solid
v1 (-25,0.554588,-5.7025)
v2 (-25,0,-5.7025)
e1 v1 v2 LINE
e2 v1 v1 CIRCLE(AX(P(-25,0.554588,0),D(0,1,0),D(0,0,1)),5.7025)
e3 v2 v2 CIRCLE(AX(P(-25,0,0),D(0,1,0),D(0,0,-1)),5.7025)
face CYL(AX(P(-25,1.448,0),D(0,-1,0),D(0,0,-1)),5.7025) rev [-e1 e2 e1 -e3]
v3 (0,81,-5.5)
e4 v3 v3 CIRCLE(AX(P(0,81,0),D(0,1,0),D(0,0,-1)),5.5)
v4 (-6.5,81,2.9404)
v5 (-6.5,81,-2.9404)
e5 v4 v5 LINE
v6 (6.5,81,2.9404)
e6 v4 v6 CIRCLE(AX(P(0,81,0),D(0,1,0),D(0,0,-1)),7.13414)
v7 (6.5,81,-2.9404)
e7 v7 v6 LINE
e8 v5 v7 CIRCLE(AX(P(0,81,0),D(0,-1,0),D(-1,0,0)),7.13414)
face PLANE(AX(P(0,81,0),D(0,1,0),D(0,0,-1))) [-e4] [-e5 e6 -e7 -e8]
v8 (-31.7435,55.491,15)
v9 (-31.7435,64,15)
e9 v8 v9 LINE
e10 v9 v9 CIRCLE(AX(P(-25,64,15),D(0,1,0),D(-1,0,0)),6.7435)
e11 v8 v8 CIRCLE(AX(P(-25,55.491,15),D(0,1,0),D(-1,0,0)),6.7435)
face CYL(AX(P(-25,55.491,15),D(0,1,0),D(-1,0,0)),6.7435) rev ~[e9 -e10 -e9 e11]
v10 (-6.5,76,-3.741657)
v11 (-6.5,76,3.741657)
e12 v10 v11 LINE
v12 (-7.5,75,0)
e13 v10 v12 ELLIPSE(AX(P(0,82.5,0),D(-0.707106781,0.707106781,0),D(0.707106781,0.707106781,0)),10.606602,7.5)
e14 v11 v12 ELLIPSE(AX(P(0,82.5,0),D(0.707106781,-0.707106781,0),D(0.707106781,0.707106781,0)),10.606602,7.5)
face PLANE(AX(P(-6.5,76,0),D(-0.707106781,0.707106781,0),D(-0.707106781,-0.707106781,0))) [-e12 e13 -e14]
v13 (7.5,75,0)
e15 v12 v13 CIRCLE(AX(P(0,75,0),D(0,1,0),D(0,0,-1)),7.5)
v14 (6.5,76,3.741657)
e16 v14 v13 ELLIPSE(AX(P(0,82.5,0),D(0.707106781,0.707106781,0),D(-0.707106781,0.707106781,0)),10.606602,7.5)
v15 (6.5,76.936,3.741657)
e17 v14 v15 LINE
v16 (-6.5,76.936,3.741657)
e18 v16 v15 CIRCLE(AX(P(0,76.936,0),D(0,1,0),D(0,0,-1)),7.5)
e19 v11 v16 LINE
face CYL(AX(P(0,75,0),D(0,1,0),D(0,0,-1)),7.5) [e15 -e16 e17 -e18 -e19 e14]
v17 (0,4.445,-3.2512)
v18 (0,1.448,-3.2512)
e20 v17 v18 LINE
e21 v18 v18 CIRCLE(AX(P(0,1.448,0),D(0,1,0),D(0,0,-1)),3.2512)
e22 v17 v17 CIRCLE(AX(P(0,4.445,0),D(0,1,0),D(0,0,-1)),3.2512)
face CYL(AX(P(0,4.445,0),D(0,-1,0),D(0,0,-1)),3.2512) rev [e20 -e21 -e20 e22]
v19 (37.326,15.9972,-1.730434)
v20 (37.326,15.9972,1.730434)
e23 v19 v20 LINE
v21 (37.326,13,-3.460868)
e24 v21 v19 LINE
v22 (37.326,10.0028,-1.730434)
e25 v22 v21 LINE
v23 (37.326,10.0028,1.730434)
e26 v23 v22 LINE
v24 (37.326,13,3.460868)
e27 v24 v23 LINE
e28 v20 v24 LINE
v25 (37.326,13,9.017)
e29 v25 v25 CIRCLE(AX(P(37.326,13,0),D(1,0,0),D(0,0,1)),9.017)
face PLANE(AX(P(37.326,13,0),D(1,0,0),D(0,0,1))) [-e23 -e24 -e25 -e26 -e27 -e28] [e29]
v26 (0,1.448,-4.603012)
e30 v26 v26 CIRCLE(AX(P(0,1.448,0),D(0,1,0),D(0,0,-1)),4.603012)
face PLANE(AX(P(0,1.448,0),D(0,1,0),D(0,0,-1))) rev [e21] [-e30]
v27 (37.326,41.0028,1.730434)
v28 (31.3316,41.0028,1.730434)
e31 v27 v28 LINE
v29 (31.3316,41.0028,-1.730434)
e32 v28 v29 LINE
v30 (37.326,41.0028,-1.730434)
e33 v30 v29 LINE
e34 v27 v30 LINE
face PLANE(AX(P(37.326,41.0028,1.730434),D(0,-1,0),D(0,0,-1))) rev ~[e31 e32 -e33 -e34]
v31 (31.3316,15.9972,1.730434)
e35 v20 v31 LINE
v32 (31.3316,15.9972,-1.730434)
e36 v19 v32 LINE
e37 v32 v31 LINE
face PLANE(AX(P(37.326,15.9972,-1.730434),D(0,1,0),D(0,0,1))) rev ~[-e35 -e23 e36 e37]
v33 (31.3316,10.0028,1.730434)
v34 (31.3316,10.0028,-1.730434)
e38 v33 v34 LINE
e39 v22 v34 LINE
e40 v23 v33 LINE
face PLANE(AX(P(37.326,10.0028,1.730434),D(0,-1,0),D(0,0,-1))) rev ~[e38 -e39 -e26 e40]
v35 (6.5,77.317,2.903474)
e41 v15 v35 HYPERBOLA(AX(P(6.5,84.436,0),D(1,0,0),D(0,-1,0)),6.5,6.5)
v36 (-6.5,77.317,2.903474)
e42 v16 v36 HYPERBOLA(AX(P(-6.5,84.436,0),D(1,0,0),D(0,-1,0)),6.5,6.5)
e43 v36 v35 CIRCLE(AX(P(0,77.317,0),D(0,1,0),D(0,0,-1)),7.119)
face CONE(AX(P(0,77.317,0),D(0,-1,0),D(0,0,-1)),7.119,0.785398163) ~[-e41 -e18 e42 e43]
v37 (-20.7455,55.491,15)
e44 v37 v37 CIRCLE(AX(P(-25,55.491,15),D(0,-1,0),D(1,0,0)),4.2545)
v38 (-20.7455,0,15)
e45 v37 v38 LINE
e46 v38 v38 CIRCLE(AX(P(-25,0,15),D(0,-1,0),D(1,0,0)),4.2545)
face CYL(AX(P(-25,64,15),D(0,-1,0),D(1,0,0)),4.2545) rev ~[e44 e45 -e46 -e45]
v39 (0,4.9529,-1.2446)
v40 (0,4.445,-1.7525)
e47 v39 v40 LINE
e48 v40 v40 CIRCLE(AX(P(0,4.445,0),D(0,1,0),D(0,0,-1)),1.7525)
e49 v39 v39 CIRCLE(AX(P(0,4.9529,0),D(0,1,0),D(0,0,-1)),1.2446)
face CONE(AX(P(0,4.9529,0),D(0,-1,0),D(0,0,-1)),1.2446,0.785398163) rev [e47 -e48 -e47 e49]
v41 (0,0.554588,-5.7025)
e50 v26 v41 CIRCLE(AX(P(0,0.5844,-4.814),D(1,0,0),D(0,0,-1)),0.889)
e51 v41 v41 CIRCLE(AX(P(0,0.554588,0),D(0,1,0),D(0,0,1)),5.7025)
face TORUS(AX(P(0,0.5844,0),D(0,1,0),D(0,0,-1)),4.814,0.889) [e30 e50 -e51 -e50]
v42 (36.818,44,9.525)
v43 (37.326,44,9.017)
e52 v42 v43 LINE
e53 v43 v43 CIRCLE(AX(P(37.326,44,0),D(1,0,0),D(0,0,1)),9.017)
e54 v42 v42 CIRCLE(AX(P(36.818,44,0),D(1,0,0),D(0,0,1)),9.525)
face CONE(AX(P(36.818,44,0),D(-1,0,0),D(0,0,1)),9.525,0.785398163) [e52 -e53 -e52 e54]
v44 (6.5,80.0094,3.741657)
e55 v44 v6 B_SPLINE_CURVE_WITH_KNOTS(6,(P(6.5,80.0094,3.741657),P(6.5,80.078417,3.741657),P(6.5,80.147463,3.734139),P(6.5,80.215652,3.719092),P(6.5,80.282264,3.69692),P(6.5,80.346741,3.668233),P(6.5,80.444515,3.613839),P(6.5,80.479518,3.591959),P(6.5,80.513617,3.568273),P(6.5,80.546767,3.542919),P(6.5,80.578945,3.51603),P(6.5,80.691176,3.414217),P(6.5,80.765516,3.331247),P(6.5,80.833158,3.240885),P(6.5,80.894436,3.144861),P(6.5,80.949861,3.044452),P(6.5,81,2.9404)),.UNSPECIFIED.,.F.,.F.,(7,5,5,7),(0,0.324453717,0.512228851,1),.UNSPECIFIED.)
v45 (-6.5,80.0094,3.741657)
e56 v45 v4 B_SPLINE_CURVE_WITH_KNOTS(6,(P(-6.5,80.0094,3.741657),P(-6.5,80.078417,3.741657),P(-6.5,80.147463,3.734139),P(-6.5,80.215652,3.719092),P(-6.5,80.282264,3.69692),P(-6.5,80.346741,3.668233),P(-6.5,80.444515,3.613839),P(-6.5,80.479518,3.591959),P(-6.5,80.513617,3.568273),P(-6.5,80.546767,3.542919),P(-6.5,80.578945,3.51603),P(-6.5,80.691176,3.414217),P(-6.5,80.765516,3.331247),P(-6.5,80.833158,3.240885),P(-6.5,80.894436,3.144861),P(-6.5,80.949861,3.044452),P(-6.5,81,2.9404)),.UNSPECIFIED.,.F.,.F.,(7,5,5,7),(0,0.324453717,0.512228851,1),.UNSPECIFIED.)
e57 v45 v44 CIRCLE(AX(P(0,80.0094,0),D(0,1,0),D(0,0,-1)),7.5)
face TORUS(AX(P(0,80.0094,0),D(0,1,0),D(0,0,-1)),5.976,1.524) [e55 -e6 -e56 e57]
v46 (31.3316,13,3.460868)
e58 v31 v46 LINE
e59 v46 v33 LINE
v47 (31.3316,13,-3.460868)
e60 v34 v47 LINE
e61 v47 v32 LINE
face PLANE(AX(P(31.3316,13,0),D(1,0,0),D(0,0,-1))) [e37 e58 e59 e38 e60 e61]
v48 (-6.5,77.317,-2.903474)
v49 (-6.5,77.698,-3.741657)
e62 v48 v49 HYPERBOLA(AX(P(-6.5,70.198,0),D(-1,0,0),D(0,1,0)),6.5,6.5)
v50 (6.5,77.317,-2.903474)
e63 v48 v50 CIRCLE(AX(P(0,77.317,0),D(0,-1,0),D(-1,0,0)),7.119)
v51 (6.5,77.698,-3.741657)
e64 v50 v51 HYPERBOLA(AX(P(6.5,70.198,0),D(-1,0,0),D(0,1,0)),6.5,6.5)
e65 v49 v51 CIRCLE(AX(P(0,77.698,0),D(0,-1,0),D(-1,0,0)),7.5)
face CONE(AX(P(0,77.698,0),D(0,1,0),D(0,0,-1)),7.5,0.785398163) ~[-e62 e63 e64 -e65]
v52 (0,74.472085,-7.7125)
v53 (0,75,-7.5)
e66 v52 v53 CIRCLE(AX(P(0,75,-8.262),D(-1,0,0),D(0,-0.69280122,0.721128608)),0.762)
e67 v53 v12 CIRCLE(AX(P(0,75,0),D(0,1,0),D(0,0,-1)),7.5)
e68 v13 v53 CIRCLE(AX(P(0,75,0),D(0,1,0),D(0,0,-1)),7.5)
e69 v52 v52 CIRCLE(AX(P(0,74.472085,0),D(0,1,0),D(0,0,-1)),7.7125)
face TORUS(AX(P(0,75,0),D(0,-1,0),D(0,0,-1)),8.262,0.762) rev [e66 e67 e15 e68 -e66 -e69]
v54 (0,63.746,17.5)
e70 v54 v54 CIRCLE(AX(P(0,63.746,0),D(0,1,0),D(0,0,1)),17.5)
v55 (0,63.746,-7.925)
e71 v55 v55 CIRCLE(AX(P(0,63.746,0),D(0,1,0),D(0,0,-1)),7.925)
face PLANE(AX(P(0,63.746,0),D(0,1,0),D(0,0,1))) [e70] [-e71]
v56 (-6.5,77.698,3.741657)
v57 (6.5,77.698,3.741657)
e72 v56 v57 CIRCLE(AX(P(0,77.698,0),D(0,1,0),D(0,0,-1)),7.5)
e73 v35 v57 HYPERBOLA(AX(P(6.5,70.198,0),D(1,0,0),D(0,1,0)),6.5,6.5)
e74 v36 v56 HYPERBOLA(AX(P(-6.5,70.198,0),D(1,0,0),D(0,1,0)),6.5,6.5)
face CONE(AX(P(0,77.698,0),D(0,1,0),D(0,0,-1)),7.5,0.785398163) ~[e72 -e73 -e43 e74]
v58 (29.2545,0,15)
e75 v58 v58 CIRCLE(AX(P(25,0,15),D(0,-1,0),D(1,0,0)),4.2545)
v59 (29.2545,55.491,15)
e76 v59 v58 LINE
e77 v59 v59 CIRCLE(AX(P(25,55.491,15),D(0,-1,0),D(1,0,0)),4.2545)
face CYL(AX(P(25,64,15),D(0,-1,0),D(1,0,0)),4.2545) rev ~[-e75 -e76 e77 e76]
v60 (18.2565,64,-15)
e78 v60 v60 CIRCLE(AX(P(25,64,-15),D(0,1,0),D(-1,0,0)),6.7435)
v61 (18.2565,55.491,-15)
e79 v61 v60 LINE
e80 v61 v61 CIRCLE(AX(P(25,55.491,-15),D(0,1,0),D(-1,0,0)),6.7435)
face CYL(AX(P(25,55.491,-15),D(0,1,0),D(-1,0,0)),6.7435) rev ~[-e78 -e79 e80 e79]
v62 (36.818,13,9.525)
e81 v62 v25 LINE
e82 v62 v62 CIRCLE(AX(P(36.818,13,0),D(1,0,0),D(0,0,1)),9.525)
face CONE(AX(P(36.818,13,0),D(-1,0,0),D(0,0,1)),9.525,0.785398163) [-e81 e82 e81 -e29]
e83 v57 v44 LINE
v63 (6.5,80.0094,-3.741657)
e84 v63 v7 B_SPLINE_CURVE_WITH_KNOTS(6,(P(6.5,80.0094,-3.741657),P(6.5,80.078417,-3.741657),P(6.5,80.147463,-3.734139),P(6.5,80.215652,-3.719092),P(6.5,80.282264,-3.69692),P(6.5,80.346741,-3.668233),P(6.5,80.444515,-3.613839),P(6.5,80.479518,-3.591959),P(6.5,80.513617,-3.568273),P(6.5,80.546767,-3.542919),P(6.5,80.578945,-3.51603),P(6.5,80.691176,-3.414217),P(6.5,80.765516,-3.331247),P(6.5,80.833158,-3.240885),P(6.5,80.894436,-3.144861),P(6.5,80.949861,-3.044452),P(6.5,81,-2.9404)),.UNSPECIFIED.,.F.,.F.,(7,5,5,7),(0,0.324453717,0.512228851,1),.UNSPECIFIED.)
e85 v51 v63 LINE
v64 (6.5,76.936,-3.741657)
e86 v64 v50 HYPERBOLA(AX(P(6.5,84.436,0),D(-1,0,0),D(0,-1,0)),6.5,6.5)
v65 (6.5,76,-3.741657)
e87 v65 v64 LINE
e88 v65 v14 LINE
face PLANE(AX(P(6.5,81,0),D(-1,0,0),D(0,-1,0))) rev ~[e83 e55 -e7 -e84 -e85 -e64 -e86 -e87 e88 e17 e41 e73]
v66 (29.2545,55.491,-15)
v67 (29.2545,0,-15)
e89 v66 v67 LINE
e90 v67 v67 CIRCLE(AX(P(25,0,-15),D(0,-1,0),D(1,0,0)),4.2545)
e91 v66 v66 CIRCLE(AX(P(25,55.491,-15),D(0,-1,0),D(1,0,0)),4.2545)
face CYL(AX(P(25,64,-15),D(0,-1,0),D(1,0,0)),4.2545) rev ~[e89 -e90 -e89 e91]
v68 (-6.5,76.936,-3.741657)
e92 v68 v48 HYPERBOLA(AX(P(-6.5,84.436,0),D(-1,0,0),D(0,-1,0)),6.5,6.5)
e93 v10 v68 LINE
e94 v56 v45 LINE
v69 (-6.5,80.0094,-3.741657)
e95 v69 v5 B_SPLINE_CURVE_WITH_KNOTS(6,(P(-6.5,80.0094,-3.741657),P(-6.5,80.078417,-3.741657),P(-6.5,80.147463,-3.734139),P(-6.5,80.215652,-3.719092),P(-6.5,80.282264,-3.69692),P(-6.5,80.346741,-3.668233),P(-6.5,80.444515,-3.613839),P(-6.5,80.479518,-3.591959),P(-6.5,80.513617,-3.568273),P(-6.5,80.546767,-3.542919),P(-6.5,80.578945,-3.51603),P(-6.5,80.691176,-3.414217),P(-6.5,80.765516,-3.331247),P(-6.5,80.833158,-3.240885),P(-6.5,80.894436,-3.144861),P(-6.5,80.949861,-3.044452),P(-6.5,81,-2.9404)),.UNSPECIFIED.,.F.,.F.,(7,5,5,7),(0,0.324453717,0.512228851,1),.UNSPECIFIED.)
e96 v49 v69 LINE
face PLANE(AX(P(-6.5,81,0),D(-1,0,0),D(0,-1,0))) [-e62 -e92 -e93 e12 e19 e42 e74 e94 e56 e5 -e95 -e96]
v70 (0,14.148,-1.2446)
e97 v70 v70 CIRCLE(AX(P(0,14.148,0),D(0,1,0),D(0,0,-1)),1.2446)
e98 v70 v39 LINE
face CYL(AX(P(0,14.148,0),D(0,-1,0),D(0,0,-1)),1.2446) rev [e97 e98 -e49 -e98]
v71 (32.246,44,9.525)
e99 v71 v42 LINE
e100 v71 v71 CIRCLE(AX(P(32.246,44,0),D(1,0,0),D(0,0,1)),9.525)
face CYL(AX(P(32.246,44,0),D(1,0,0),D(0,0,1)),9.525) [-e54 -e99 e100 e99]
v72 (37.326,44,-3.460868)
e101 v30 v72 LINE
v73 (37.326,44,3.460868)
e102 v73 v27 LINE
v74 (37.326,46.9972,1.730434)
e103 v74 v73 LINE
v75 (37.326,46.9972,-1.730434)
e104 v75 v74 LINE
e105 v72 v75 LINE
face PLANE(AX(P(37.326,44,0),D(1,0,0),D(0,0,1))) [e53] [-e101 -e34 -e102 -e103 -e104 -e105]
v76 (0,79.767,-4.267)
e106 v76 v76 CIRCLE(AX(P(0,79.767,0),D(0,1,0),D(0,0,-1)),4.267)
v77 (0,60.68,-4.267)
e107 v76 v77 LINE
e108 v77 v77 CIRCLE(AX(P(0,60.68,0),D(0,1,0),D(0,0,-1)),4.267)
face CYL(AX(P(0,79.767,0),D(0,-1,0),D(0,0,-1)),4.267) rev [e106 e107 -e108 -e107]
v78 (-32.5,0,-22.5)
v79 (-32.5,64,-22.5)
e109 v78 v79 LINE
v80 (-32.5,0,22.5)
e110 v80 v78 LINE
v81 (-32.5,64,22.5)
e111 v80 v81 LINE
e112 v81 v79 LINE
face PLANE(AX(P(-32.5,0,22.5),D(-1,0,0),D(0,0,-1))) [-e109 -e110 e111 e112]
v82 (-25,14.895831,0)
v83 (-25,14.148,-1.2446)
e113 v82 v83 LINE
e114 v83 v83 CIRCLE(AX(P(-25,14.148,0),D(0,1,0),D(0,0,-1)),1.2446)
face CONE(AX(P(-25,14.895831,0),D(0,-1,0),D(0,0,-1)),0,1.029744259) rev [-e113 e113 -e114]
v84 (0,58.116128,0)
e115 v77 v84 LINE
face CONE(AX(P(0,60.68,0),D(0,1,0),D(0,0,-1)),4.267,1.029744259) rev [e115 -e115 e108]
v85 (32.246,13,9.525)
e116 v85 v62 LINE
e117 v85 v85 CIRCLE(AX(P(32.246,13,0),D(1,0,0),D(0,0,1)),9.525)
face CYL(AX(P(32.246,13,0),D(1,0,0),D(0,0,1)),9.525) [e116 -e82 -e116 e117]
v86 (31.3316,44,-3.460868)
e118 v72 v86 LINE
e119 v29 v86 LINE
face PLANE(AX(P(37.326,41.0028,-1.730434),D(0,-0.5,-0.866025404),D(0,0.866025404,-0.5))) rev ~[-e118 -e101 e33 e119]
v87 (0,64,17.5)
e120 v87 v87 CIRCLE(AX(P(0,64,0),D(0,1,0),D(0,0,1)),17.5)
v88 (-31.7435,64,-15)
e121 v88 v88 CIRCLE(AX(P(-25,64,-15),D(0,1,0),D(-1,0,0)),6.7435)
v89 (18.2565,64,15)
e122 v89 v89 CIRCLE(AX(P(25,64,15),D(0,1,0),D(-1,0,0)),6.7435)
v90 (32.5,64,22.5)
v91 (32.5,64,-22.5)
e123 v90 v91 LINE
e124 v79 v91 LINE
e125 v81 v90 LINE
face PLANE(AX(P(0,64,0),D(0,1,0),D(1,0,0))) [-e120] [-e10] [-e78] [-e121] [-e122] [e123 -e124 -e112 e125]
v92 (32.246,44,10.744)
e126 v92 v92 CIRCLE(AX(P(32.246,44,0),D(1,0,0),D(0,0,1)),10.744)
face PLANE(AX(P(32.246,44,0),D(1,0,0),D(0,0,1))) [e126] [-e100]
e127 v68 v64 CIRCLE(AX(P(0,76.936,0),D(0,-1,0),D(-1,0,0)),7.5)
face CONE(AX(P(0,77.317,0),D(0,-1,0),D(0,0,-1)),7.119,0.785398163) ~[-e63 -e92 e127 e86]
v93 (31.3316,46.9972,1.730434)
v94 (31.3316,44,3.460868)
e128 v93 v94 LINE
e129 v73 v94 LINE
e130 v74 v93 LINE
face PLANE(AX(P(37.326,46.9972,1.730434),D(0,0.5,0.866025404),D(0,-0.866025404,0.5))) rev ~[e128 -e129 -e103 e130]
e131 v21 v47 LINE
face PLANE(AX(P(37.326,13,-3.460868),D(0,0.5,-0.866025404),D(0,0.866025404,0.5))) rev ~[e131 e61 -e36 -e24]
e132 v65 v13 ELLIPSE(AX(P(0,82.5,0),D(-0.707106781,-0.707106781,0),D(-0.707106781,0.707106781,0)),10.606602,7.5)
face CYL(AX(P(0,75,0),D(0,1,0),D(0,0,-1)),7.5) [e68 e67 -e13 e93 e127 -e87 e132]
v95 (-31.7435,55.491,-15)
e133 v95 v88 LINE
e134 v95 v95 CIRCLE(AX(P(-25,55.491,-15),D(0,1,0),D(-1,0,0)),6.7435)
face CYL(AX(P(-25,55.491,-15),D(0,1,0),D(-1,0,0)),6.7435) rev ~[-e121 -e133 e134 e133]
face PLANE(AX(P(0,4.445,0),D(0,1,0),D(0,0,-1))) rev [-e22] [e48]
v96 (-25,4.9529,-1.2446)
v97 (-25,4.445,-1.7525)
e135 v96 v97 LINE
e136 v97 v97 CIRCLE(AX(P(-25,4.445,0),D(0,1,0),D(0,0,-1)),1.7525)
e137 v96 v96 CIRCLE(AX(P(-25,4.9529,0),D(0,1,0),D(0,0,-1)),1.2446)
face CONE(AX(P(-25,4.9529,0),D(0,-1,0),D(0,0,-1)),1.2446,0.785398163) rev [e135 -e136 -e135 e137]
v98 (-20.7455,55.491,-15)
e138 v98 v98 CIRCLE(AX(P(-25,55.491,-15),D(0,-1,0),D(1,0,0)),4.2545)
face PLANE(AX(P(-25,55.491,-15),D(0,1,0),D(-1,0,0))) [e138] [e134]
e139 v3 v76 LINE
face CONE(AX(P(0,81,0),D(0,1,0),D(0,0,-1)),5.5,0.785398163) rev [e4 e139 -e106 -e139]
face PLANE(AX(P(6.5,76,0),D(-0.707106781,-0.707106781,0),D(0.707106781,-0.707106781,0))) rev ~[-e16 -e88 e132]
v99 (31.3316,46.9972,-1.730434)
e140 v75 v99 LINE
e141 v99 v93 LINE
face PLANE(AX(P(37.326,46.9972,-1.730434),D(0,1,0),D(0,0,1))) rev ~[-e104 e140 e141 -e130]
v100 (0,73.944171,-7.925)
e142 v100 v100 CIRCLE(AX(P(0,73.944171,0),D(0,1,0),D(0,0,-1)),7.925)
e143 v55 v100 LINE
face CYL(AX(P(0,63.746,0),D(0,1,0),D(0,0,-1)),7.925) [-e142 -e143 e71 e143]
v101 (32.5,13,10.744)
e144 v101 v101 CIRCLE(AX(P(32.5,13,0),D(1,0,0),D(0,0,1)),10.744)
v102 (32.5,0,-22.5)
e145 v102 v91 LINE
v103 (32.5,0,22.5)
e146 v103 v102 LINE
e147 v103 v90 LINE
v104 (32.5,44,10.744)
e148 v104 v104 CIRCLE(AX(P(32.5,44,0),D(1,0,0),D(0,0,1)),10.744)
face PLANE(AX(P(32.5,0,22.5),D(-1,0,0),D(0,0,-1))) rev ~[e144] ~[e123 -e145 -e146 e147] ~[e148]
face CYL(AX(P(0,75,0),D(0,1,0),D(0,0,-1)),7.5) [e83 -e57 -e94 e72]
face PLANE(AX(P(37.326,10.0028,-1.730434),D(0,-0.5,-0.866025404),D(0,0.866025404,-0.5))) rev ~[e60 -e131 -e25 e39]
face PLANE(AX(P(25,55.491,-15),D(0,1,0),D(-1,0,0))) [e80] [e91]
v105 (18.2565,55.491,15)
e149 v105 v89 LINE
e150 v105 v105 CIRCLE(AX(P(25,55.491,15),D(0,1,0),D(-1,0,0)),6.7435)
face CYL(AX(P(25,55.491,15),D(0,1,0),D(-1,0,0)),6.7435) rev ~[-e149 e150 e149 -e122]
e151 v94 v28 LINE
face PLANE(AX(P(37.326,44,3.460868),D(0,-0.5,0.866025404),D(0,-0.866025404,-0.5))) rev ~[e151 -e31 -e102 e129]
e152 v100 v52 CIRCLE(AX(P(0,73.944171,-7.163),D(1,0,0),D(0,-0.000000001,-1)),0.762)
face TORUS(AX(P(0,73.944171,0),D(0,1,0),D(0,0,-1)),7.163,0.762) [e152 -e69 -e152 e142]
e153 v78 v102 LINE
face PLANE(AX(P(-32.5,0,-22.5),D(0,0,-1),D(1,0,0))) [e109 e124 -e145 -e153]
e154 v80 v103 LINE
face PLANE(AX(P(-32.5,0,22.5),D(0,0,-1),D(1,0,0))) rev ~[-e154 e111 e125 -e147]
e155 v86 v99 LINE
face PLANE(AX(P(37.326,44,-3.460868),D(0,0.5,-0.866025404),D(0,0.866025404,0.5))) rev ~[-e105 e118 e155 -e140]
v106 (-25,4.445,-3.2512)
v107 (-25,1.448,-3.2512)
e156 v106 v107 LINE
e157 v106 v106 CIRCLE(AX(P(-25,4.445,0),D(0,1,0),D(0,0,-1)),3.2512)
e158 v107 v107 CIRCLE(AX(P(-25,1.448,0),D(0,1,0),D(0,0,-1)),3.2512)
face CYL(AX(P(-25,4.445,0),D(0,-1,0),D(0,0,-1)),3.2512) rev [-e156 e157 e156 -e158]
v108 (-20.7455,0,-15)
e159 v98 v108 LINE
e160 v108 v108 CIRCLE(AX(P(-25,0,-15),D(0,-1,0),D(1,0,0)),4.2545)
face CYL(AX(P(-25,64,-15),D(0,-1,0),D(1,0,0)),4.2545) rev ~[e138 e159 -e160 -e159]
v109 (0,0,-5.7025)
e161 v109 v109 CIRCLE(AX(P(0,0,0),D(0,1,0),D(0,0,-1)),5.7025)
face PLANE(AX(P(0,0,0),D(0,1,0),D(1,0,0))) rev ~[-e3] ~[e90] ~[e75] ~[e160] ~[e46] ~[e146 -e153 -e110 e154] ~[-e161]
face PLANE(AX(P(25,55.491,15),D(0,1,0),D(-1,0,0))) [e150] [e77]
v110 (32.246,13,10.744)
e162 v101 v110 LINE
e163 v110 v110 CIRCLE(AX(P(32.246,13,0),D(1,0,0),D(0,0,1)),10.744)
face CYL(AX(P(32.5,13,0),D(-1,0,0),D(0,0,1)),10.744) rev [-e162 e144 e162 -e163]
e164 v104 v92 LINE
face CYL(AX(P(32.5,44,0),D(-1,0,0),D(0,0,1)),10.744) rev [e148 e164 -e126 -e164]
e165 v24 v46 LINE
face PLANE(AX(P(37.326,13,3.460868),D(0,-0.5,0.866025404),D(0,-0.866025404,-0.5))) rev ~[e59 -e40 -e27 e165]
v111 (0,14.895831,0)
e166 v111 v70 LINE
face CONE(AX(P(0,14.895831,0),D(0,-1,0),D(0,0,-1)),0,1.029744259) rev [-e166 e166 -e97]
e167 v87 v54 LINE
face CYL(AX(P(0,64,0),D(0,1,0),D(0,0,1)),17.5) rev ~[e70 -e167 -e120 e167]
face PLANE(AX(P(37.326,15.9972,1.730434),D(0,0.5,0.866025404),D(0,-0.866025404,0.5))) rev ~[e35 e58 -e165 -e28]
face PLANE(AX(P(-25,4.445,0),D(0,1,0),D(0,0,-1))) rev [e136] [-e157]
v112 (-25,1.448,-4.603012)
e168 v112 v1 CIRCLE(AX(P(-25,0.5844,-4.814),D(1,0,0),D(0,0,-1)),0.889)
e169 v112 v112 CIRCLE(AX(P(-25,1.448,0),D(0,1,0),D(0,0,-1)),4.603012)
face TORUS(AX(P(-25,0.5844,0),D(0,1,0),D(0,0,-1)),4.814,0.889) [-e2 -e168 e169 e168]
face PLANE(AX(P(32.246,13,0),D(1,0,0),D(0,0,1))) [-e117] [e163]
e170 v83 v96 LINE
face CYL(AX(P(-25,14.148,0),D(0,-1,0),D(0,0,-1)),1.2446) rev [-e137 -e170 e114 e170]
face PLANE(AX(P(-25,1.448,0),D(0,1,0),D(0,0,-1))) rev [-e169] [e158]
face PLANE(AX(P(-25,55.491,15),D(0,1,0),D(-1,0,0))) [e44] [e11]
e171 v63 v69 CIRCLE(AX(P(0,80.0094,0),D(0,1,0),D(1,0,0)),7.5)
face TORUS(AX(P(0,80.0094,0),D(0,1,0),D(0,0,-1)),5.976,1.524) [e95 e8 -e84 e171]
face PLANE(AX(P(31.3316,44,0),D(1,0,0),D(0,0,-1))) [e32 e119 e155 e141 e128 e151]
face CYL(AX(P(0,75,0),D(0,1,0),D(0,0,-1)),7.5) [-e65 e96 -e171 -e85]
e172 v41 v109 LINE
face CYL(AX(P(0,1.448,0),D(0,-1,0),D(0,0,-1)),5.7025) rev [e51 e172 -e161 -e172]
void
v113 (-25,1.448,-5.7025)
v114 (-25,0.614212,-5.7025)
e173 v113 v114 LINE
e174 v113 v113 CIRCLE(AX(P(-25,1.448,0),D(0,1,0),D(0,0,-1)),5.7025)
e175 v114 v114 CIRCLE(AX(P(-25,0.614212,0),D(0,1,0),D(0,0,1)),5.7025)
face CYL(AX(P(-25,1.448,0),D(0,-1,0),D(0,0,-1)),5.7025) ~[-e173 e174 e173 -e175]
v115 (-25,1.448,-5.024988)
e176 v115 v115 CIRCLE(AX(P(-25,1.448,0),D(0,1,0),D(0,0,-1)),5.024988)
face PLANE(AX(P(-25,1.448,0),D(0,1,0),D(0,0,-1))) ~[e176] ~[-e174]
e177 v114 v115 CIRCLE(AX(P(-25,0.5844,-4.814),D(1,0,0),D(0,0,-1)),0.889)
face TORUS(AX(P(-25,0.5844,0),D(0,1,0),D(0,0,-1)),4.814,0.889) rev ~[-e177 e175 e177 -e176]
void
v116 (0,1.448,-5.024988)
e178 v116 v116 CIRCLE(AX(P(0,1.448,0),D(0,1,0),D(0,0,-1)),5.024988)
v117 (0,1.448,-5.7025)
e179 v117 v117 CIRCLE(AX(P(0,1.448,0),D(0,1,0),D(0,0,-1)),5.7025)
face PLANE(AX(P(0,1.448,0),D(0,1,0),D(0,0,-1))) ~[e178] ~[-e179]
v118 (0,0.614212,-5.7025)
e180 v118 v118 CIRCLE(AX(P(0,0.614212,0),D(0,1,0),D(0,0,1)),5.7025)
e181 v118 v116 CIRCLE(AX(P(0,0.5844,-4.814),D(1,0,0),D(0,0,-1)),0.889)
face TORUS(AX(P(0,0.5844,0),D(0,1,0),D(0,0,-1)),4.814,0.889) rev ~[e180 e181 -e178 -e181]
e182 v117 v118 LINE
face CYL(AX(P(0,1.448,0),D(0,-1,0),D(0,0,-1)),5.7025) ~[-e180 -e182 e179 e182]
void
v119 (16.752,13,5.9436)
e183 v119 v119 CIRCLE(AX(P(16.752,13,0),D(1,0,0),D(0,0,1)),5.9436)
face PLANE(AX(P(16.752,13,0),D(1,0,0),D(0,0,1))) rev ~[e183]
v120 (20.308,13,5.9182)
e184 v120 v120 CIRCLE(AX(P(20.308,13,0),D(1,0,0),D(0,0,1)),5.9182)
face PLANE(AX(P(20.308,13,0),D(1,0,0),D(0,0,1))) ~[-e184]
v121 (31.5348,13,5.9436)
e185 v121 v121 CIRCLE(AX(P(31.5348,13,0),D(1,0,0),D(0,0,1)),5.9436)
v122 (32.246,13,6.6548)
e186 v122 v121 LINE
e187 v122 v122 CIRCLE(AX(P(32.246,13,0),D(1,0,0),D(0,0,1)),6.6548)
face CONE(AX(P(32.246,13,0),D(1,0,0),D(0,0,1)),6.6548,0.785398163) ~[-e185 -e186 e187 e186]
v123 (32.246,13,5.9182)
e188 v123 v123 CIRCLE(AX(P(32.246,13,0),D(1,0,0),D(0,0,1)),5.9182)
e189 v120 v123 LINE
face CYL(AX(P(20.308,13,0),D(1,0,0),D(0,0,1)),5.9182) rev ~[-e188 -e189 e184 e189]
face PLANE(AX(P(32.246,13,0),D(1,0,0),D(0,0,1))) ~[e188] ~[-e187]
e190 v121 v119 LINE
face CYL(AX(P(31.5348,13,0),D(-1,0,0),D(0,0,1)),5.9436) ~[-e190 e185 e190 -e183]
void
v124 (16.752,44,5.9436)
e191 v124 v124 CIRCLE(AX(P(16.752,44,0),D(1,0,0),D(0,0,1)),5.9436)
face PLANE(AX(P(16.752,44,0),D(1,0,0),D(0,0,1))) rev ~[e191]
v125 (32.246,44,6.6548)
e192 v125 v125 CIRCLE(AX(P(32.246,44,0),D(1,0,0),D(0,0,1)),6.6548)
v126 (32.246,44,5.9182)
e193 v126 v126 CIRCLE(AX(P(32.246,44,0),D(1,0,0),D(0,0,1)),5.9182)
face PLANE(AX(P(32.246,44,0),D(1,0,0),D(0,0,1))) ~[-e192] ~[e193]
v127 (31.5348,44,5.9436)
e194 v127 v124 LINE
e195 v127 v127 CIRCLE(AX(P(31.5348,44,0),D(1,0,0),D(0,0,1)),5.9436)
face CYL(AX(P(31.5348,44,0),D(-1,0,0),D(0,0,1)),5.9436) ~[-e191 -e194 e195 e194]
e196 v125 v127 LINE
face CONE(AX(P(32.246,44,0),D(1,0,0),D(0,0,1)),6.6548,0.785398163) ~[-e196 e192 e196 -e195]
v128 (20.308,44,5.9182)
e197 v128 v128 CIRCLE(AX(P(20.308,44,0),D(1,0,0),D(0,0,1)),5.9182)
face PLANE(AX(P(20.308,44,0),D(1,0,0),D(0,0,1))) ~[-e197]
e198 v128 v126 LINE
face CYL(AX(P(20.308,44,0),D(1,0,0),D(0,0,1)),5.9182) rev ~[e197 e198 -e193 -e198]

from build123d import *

# Parameters (mm, degrees)
SKETCH1_W                  = 65
SKETCH1_H                  = 45
EXTRUDE1_DEPTH             = 64
SKETCH2_R                  = 17.5
CUT_EXTRUDE1_DEPTH         = 0.254
CHAMFER1_SIZE              = 0.508
CUT_EXTRUDE2_DEPTH         = 5.9944
LPATTERN1_COUNT            = 2
LPATTERN1_PITCH            = 31
CHAMFER1_OF_LPATTERN1_SIZE = 0.508
SKETCH7_R                  = 0.889
LPATTERN2_COUNT            = 2
LPATTERN2_PITCH            = 25
CUT_EXTRUDE3_DEPTH         = 23.5
CUT_EXTRUDE3_DEPTH_BACK    = 23.5
HOLE1_D                    = 8.509
HOLE1_CBORE_D              = 13.487
HOLE1_CBORE_DEPTH          = 8.509


with BuildPart() as part:
    # Sketch1 → Extrude1 (new body)
    with BuildSketch(Plane(origin=(0, 0, 0), x_dir=(1, 0, 0), z_dir=(0, 1, 0))):
        Rectangle(SKETCH1_W, SKETCH1_H)
    extrude(amount=EXTRUDE1_DEPTH)

    # Sketch2 → Cut-Extrude1 (cut)
    with BuildSketch(Plane(origin=(0, 64, 0), x_dir=(1, 0, 0), z_dir=(0, 1, 0))):
        with Locations(Location((0, 0, 0), (0, 0, 270))):  # turned: the seam where the file's is
            Circle(SKETCH2_R)
    extrude(amount=-CUT_EXTRUDE1_DEPTH, mode=Mode.SUBTRACT)

    # Sketch3 → Cut-Revolve1 (revolve, cut)
    with BuildSketch(Plane.XY, mode=Mode.PRIVATE) as cut_revolve1_sk:
        Polygon((32.5, 44), (32.5, 33.256), (32.246, 33.256), (32.246, 37.3452), (31.5348, 38.0564), (16.752, 38.0564), (16.752, 44), align=None)
    cut_revolve1 = revolve(cut_revolve1_sk.sketch.rotate(Axis((-6.847979502, 44, 0), (1, 0, 0)), 270), axis=Axis((-6.847979502, 44, 0), (1, 0, 0)), mode=Mode.SUBTRACT)  # turned: the seam where the file's is

    # Sketch4 → Revolve1 (revolve)
    with BuildSketch(Plane.XY, mode=Mode.PRIVATE) as revolve1_sk:
        Polygon((20.308, 44), (20.308, 49.9182), (32.246, 49.9182), (32.246, 53.525), (37.326, 53.525), (37.326, 44), align=None)
    revolve1 = revolve(revolve1_sk.sketch.rotate(Axis((8.732572807, 44, 0), (1, 0, 0)), 90), axis=Axis((8.732572807, 44, 0), (1, 0, 0)))  # turned: the seam where the file's is

    # Chamfer1
    chamfer1_edges = [part.edges().sort_by_distance(p)[0] for p in [
        (37.326, 44, -9.525),
    ]]
    chamfer(chamfer1_edges, length=CHAMFER1_SIZE)

    # Sketch5 → Cut-Extrude2 (cut)
    with BuildSketch(Plane(origin=(37.326, 0, 0), x_dir=(0, 0, -1), z_dir=(1, 0, 0))):
        Polygon((1.730434227, 46.9972), (-1.730434227, 46.9972), (-3.460868454, 44), (-1.730434227, 41.0028), (1.730434227, 41.0028), (3.460868454, 44), align=None)
    cut_extrude2 = extrude(amount=-CUT_EXTRUDE2_DEPTH, mode=Mode.SUBTRACT)

    # LPattern1: Cut-Revolve1, Revolve1, Cut-Extrude2 ×2
    with Locations(*[(0, -i * LPATTERN1_PITCH, 0) for i in range(1, LPATTERN1_COUNT)]):
        add(cut_revolve1, mode=Mode.SUBTRACT)
        add(revolve1)
        add(cut_extrude2, mode=Mode.SUBTRACT)

    # Chamfer1 of LPattern1
    chamfer1_of_lpattern1_edges = [part.edges().sort_by_distance(p)[0] for p in [
        (37.326, 13, -9.525),
    ]]
    chamfer(chamfer1_of_lpattern1_edges, length=CHAMFER1_OF_LPATTERN1_SIZE)

    # Sketch6 → Cut-Revolve2 (revolve, cut)
    with BuildSketch(Plane.XY, mode=Mode.PRIVATE) as cut_revolve2_sk:
        Polygon((0, 0), (0, 14.895831126), (1.2446, 14.148), (1.2446, 4.9529), (1.7525, 4.445), (3.2512, 4.445), (3.2512, 1.448), (5.7025, 1.448), (5.7025, 0), align=None)
    cut_revolve2 = revolve(cut_revolve2_sk.sketch.rotate(Axis((0, 0, 0), (0, 1, 0)), 90), axis=Axis((0, 0, 0), (0, 1, 0)), mode=Mode.SUBTRACT)  # turned: the seam where the file's is

    # Sketch7 → Revolve3 (revolve)
    with BuildSketch(Plane.XY, mode=Mode.PRIVATE) as revolve3_sk:
        with Locations((4.814, 0.5844)):
            Circle(SKETCH7_R)
    revolve3 = revolve(revolve3_sk.sketch.rotate(Axis((0, 0, 0), (0, 1, 0)), 90), axis=Axis((0, 0, 0), (0, 1, 0)))  # turned: the seam where the file's is

    # LPattern2: Cut-Revolve2, Revolve3 ×2
    with Locations(*[(-i * LPATTERN2_PITCH, 0, 0) for i in range(1, LPATTERN2_COUNT)]):
        add(cut_revolve2, mode=Mode.SUBTRACT)
        add(revolve3)

    # Sketch8 → Revolve4 (revolve)
    with BuildSketch(Plane.XY, mode=Mode.PRIVATE) as revolve4_sk:
        with BuildLine():
            Line((7.925, 63.746), (7.925, 73.944170942))
            ThreePointArc((7.925, 73.944170942), (7.869881532, 74.228710043), (7.7125, 74.472085471))
            ThreePointArc((7.7125, 74.472085471), (7.555118468, 74.715460899), (7.5, 75))
            Line((7.5, 75), (7.5, 80.0094))
            ThreePointArc((7.5, 80.0094), (7.405612002, 80.537401443), (7.134139733, 81))
            Line((7.134139733, 81), (0, 81))
            Line((0, 81), (0, 63.746))
            Line((0, 63.746), (7.925, 63.746))
        make_face()
    revolve(revolve4_sk.sketch.rotate(Axis((0, 0, 0), (0, 1, 0)), 90), axis=Axis((0, 0, 0), (0, 1, 0)))  # turned: the seam where the file's is

    # Sketch10 → Cut-Revolve3 (revolve, cut)
    with BuildSketch(Plane.XY, mode=Mode.PRIVATE) as cut_revolve3_sk:
        Polygon((5.5, 81), (4.267, 79.767), (4.267, 60.68), (0, 58.116127739), (0, 81), align=None)
    revolve(cut_revolve3_sk.sketch.rotate(Axis((0, 81, 0), (0, 1, 0)), 90), axis=Axis((0, 81, 0), (0, 1, 0)), mode=Mode.SUBTRACT)  # turned: the seam where the file's is

    # Sketch11 → Cut-Revolve4 (revolve, cut)
    with BuildSketch(Plane.XY, mode=Mode.PRIVATE) as cut_revolve4_sk:
        Polygon((7.5, 77.698), (7.119, 77.317), (7.5, 76.936), align=None)
    revolve(cut_revolve4_sk.sketch.rotate(Axis((0, 0, 0), (0, 1, 0)), 90), axis=Axis((0, 0, 0), (0, 1, 0)), mode=Mode.SUBTRACT)  # turned: the seam where the file's is

    # Sketch12 → Cut-Extrude3 (cut, two sides)
    with BuildSketch(Plane.XY) as cut_extrude3_sk:
        Polygon((6.5, 81), (6.5, 76), (7.925, 74.575), (7.925, 81), align=None)
        Polygon((-7.925, 81), (-6.5, 81), (-6.5, 76), (-7.925, 74.575), align=None)
    extrude(amount=CUT_EXTRUDE3_DEPTH, mode=Mode.SUBTRACT)
    extrude(cut_extrude3_sk.sketch, amount=-CUT_EXTRUDE3_DEPTH_BACK, mode=Mode.SUBTRACT)

    # Hole1 (through all)
    with Locations(Plane(origin=(0, 64, 0), x_dir=(-1, 0, 0), z_dir=(0, 1, 0))):
        with Locations((25, 15), (25, -15), (-25, -15), (-25, 15)):
            CounterBoreHole(HOLE1_D / 2, HOLE1_CBORE_D / 2, HOLE1_CBORE_DEPTH)


solid = part.part
